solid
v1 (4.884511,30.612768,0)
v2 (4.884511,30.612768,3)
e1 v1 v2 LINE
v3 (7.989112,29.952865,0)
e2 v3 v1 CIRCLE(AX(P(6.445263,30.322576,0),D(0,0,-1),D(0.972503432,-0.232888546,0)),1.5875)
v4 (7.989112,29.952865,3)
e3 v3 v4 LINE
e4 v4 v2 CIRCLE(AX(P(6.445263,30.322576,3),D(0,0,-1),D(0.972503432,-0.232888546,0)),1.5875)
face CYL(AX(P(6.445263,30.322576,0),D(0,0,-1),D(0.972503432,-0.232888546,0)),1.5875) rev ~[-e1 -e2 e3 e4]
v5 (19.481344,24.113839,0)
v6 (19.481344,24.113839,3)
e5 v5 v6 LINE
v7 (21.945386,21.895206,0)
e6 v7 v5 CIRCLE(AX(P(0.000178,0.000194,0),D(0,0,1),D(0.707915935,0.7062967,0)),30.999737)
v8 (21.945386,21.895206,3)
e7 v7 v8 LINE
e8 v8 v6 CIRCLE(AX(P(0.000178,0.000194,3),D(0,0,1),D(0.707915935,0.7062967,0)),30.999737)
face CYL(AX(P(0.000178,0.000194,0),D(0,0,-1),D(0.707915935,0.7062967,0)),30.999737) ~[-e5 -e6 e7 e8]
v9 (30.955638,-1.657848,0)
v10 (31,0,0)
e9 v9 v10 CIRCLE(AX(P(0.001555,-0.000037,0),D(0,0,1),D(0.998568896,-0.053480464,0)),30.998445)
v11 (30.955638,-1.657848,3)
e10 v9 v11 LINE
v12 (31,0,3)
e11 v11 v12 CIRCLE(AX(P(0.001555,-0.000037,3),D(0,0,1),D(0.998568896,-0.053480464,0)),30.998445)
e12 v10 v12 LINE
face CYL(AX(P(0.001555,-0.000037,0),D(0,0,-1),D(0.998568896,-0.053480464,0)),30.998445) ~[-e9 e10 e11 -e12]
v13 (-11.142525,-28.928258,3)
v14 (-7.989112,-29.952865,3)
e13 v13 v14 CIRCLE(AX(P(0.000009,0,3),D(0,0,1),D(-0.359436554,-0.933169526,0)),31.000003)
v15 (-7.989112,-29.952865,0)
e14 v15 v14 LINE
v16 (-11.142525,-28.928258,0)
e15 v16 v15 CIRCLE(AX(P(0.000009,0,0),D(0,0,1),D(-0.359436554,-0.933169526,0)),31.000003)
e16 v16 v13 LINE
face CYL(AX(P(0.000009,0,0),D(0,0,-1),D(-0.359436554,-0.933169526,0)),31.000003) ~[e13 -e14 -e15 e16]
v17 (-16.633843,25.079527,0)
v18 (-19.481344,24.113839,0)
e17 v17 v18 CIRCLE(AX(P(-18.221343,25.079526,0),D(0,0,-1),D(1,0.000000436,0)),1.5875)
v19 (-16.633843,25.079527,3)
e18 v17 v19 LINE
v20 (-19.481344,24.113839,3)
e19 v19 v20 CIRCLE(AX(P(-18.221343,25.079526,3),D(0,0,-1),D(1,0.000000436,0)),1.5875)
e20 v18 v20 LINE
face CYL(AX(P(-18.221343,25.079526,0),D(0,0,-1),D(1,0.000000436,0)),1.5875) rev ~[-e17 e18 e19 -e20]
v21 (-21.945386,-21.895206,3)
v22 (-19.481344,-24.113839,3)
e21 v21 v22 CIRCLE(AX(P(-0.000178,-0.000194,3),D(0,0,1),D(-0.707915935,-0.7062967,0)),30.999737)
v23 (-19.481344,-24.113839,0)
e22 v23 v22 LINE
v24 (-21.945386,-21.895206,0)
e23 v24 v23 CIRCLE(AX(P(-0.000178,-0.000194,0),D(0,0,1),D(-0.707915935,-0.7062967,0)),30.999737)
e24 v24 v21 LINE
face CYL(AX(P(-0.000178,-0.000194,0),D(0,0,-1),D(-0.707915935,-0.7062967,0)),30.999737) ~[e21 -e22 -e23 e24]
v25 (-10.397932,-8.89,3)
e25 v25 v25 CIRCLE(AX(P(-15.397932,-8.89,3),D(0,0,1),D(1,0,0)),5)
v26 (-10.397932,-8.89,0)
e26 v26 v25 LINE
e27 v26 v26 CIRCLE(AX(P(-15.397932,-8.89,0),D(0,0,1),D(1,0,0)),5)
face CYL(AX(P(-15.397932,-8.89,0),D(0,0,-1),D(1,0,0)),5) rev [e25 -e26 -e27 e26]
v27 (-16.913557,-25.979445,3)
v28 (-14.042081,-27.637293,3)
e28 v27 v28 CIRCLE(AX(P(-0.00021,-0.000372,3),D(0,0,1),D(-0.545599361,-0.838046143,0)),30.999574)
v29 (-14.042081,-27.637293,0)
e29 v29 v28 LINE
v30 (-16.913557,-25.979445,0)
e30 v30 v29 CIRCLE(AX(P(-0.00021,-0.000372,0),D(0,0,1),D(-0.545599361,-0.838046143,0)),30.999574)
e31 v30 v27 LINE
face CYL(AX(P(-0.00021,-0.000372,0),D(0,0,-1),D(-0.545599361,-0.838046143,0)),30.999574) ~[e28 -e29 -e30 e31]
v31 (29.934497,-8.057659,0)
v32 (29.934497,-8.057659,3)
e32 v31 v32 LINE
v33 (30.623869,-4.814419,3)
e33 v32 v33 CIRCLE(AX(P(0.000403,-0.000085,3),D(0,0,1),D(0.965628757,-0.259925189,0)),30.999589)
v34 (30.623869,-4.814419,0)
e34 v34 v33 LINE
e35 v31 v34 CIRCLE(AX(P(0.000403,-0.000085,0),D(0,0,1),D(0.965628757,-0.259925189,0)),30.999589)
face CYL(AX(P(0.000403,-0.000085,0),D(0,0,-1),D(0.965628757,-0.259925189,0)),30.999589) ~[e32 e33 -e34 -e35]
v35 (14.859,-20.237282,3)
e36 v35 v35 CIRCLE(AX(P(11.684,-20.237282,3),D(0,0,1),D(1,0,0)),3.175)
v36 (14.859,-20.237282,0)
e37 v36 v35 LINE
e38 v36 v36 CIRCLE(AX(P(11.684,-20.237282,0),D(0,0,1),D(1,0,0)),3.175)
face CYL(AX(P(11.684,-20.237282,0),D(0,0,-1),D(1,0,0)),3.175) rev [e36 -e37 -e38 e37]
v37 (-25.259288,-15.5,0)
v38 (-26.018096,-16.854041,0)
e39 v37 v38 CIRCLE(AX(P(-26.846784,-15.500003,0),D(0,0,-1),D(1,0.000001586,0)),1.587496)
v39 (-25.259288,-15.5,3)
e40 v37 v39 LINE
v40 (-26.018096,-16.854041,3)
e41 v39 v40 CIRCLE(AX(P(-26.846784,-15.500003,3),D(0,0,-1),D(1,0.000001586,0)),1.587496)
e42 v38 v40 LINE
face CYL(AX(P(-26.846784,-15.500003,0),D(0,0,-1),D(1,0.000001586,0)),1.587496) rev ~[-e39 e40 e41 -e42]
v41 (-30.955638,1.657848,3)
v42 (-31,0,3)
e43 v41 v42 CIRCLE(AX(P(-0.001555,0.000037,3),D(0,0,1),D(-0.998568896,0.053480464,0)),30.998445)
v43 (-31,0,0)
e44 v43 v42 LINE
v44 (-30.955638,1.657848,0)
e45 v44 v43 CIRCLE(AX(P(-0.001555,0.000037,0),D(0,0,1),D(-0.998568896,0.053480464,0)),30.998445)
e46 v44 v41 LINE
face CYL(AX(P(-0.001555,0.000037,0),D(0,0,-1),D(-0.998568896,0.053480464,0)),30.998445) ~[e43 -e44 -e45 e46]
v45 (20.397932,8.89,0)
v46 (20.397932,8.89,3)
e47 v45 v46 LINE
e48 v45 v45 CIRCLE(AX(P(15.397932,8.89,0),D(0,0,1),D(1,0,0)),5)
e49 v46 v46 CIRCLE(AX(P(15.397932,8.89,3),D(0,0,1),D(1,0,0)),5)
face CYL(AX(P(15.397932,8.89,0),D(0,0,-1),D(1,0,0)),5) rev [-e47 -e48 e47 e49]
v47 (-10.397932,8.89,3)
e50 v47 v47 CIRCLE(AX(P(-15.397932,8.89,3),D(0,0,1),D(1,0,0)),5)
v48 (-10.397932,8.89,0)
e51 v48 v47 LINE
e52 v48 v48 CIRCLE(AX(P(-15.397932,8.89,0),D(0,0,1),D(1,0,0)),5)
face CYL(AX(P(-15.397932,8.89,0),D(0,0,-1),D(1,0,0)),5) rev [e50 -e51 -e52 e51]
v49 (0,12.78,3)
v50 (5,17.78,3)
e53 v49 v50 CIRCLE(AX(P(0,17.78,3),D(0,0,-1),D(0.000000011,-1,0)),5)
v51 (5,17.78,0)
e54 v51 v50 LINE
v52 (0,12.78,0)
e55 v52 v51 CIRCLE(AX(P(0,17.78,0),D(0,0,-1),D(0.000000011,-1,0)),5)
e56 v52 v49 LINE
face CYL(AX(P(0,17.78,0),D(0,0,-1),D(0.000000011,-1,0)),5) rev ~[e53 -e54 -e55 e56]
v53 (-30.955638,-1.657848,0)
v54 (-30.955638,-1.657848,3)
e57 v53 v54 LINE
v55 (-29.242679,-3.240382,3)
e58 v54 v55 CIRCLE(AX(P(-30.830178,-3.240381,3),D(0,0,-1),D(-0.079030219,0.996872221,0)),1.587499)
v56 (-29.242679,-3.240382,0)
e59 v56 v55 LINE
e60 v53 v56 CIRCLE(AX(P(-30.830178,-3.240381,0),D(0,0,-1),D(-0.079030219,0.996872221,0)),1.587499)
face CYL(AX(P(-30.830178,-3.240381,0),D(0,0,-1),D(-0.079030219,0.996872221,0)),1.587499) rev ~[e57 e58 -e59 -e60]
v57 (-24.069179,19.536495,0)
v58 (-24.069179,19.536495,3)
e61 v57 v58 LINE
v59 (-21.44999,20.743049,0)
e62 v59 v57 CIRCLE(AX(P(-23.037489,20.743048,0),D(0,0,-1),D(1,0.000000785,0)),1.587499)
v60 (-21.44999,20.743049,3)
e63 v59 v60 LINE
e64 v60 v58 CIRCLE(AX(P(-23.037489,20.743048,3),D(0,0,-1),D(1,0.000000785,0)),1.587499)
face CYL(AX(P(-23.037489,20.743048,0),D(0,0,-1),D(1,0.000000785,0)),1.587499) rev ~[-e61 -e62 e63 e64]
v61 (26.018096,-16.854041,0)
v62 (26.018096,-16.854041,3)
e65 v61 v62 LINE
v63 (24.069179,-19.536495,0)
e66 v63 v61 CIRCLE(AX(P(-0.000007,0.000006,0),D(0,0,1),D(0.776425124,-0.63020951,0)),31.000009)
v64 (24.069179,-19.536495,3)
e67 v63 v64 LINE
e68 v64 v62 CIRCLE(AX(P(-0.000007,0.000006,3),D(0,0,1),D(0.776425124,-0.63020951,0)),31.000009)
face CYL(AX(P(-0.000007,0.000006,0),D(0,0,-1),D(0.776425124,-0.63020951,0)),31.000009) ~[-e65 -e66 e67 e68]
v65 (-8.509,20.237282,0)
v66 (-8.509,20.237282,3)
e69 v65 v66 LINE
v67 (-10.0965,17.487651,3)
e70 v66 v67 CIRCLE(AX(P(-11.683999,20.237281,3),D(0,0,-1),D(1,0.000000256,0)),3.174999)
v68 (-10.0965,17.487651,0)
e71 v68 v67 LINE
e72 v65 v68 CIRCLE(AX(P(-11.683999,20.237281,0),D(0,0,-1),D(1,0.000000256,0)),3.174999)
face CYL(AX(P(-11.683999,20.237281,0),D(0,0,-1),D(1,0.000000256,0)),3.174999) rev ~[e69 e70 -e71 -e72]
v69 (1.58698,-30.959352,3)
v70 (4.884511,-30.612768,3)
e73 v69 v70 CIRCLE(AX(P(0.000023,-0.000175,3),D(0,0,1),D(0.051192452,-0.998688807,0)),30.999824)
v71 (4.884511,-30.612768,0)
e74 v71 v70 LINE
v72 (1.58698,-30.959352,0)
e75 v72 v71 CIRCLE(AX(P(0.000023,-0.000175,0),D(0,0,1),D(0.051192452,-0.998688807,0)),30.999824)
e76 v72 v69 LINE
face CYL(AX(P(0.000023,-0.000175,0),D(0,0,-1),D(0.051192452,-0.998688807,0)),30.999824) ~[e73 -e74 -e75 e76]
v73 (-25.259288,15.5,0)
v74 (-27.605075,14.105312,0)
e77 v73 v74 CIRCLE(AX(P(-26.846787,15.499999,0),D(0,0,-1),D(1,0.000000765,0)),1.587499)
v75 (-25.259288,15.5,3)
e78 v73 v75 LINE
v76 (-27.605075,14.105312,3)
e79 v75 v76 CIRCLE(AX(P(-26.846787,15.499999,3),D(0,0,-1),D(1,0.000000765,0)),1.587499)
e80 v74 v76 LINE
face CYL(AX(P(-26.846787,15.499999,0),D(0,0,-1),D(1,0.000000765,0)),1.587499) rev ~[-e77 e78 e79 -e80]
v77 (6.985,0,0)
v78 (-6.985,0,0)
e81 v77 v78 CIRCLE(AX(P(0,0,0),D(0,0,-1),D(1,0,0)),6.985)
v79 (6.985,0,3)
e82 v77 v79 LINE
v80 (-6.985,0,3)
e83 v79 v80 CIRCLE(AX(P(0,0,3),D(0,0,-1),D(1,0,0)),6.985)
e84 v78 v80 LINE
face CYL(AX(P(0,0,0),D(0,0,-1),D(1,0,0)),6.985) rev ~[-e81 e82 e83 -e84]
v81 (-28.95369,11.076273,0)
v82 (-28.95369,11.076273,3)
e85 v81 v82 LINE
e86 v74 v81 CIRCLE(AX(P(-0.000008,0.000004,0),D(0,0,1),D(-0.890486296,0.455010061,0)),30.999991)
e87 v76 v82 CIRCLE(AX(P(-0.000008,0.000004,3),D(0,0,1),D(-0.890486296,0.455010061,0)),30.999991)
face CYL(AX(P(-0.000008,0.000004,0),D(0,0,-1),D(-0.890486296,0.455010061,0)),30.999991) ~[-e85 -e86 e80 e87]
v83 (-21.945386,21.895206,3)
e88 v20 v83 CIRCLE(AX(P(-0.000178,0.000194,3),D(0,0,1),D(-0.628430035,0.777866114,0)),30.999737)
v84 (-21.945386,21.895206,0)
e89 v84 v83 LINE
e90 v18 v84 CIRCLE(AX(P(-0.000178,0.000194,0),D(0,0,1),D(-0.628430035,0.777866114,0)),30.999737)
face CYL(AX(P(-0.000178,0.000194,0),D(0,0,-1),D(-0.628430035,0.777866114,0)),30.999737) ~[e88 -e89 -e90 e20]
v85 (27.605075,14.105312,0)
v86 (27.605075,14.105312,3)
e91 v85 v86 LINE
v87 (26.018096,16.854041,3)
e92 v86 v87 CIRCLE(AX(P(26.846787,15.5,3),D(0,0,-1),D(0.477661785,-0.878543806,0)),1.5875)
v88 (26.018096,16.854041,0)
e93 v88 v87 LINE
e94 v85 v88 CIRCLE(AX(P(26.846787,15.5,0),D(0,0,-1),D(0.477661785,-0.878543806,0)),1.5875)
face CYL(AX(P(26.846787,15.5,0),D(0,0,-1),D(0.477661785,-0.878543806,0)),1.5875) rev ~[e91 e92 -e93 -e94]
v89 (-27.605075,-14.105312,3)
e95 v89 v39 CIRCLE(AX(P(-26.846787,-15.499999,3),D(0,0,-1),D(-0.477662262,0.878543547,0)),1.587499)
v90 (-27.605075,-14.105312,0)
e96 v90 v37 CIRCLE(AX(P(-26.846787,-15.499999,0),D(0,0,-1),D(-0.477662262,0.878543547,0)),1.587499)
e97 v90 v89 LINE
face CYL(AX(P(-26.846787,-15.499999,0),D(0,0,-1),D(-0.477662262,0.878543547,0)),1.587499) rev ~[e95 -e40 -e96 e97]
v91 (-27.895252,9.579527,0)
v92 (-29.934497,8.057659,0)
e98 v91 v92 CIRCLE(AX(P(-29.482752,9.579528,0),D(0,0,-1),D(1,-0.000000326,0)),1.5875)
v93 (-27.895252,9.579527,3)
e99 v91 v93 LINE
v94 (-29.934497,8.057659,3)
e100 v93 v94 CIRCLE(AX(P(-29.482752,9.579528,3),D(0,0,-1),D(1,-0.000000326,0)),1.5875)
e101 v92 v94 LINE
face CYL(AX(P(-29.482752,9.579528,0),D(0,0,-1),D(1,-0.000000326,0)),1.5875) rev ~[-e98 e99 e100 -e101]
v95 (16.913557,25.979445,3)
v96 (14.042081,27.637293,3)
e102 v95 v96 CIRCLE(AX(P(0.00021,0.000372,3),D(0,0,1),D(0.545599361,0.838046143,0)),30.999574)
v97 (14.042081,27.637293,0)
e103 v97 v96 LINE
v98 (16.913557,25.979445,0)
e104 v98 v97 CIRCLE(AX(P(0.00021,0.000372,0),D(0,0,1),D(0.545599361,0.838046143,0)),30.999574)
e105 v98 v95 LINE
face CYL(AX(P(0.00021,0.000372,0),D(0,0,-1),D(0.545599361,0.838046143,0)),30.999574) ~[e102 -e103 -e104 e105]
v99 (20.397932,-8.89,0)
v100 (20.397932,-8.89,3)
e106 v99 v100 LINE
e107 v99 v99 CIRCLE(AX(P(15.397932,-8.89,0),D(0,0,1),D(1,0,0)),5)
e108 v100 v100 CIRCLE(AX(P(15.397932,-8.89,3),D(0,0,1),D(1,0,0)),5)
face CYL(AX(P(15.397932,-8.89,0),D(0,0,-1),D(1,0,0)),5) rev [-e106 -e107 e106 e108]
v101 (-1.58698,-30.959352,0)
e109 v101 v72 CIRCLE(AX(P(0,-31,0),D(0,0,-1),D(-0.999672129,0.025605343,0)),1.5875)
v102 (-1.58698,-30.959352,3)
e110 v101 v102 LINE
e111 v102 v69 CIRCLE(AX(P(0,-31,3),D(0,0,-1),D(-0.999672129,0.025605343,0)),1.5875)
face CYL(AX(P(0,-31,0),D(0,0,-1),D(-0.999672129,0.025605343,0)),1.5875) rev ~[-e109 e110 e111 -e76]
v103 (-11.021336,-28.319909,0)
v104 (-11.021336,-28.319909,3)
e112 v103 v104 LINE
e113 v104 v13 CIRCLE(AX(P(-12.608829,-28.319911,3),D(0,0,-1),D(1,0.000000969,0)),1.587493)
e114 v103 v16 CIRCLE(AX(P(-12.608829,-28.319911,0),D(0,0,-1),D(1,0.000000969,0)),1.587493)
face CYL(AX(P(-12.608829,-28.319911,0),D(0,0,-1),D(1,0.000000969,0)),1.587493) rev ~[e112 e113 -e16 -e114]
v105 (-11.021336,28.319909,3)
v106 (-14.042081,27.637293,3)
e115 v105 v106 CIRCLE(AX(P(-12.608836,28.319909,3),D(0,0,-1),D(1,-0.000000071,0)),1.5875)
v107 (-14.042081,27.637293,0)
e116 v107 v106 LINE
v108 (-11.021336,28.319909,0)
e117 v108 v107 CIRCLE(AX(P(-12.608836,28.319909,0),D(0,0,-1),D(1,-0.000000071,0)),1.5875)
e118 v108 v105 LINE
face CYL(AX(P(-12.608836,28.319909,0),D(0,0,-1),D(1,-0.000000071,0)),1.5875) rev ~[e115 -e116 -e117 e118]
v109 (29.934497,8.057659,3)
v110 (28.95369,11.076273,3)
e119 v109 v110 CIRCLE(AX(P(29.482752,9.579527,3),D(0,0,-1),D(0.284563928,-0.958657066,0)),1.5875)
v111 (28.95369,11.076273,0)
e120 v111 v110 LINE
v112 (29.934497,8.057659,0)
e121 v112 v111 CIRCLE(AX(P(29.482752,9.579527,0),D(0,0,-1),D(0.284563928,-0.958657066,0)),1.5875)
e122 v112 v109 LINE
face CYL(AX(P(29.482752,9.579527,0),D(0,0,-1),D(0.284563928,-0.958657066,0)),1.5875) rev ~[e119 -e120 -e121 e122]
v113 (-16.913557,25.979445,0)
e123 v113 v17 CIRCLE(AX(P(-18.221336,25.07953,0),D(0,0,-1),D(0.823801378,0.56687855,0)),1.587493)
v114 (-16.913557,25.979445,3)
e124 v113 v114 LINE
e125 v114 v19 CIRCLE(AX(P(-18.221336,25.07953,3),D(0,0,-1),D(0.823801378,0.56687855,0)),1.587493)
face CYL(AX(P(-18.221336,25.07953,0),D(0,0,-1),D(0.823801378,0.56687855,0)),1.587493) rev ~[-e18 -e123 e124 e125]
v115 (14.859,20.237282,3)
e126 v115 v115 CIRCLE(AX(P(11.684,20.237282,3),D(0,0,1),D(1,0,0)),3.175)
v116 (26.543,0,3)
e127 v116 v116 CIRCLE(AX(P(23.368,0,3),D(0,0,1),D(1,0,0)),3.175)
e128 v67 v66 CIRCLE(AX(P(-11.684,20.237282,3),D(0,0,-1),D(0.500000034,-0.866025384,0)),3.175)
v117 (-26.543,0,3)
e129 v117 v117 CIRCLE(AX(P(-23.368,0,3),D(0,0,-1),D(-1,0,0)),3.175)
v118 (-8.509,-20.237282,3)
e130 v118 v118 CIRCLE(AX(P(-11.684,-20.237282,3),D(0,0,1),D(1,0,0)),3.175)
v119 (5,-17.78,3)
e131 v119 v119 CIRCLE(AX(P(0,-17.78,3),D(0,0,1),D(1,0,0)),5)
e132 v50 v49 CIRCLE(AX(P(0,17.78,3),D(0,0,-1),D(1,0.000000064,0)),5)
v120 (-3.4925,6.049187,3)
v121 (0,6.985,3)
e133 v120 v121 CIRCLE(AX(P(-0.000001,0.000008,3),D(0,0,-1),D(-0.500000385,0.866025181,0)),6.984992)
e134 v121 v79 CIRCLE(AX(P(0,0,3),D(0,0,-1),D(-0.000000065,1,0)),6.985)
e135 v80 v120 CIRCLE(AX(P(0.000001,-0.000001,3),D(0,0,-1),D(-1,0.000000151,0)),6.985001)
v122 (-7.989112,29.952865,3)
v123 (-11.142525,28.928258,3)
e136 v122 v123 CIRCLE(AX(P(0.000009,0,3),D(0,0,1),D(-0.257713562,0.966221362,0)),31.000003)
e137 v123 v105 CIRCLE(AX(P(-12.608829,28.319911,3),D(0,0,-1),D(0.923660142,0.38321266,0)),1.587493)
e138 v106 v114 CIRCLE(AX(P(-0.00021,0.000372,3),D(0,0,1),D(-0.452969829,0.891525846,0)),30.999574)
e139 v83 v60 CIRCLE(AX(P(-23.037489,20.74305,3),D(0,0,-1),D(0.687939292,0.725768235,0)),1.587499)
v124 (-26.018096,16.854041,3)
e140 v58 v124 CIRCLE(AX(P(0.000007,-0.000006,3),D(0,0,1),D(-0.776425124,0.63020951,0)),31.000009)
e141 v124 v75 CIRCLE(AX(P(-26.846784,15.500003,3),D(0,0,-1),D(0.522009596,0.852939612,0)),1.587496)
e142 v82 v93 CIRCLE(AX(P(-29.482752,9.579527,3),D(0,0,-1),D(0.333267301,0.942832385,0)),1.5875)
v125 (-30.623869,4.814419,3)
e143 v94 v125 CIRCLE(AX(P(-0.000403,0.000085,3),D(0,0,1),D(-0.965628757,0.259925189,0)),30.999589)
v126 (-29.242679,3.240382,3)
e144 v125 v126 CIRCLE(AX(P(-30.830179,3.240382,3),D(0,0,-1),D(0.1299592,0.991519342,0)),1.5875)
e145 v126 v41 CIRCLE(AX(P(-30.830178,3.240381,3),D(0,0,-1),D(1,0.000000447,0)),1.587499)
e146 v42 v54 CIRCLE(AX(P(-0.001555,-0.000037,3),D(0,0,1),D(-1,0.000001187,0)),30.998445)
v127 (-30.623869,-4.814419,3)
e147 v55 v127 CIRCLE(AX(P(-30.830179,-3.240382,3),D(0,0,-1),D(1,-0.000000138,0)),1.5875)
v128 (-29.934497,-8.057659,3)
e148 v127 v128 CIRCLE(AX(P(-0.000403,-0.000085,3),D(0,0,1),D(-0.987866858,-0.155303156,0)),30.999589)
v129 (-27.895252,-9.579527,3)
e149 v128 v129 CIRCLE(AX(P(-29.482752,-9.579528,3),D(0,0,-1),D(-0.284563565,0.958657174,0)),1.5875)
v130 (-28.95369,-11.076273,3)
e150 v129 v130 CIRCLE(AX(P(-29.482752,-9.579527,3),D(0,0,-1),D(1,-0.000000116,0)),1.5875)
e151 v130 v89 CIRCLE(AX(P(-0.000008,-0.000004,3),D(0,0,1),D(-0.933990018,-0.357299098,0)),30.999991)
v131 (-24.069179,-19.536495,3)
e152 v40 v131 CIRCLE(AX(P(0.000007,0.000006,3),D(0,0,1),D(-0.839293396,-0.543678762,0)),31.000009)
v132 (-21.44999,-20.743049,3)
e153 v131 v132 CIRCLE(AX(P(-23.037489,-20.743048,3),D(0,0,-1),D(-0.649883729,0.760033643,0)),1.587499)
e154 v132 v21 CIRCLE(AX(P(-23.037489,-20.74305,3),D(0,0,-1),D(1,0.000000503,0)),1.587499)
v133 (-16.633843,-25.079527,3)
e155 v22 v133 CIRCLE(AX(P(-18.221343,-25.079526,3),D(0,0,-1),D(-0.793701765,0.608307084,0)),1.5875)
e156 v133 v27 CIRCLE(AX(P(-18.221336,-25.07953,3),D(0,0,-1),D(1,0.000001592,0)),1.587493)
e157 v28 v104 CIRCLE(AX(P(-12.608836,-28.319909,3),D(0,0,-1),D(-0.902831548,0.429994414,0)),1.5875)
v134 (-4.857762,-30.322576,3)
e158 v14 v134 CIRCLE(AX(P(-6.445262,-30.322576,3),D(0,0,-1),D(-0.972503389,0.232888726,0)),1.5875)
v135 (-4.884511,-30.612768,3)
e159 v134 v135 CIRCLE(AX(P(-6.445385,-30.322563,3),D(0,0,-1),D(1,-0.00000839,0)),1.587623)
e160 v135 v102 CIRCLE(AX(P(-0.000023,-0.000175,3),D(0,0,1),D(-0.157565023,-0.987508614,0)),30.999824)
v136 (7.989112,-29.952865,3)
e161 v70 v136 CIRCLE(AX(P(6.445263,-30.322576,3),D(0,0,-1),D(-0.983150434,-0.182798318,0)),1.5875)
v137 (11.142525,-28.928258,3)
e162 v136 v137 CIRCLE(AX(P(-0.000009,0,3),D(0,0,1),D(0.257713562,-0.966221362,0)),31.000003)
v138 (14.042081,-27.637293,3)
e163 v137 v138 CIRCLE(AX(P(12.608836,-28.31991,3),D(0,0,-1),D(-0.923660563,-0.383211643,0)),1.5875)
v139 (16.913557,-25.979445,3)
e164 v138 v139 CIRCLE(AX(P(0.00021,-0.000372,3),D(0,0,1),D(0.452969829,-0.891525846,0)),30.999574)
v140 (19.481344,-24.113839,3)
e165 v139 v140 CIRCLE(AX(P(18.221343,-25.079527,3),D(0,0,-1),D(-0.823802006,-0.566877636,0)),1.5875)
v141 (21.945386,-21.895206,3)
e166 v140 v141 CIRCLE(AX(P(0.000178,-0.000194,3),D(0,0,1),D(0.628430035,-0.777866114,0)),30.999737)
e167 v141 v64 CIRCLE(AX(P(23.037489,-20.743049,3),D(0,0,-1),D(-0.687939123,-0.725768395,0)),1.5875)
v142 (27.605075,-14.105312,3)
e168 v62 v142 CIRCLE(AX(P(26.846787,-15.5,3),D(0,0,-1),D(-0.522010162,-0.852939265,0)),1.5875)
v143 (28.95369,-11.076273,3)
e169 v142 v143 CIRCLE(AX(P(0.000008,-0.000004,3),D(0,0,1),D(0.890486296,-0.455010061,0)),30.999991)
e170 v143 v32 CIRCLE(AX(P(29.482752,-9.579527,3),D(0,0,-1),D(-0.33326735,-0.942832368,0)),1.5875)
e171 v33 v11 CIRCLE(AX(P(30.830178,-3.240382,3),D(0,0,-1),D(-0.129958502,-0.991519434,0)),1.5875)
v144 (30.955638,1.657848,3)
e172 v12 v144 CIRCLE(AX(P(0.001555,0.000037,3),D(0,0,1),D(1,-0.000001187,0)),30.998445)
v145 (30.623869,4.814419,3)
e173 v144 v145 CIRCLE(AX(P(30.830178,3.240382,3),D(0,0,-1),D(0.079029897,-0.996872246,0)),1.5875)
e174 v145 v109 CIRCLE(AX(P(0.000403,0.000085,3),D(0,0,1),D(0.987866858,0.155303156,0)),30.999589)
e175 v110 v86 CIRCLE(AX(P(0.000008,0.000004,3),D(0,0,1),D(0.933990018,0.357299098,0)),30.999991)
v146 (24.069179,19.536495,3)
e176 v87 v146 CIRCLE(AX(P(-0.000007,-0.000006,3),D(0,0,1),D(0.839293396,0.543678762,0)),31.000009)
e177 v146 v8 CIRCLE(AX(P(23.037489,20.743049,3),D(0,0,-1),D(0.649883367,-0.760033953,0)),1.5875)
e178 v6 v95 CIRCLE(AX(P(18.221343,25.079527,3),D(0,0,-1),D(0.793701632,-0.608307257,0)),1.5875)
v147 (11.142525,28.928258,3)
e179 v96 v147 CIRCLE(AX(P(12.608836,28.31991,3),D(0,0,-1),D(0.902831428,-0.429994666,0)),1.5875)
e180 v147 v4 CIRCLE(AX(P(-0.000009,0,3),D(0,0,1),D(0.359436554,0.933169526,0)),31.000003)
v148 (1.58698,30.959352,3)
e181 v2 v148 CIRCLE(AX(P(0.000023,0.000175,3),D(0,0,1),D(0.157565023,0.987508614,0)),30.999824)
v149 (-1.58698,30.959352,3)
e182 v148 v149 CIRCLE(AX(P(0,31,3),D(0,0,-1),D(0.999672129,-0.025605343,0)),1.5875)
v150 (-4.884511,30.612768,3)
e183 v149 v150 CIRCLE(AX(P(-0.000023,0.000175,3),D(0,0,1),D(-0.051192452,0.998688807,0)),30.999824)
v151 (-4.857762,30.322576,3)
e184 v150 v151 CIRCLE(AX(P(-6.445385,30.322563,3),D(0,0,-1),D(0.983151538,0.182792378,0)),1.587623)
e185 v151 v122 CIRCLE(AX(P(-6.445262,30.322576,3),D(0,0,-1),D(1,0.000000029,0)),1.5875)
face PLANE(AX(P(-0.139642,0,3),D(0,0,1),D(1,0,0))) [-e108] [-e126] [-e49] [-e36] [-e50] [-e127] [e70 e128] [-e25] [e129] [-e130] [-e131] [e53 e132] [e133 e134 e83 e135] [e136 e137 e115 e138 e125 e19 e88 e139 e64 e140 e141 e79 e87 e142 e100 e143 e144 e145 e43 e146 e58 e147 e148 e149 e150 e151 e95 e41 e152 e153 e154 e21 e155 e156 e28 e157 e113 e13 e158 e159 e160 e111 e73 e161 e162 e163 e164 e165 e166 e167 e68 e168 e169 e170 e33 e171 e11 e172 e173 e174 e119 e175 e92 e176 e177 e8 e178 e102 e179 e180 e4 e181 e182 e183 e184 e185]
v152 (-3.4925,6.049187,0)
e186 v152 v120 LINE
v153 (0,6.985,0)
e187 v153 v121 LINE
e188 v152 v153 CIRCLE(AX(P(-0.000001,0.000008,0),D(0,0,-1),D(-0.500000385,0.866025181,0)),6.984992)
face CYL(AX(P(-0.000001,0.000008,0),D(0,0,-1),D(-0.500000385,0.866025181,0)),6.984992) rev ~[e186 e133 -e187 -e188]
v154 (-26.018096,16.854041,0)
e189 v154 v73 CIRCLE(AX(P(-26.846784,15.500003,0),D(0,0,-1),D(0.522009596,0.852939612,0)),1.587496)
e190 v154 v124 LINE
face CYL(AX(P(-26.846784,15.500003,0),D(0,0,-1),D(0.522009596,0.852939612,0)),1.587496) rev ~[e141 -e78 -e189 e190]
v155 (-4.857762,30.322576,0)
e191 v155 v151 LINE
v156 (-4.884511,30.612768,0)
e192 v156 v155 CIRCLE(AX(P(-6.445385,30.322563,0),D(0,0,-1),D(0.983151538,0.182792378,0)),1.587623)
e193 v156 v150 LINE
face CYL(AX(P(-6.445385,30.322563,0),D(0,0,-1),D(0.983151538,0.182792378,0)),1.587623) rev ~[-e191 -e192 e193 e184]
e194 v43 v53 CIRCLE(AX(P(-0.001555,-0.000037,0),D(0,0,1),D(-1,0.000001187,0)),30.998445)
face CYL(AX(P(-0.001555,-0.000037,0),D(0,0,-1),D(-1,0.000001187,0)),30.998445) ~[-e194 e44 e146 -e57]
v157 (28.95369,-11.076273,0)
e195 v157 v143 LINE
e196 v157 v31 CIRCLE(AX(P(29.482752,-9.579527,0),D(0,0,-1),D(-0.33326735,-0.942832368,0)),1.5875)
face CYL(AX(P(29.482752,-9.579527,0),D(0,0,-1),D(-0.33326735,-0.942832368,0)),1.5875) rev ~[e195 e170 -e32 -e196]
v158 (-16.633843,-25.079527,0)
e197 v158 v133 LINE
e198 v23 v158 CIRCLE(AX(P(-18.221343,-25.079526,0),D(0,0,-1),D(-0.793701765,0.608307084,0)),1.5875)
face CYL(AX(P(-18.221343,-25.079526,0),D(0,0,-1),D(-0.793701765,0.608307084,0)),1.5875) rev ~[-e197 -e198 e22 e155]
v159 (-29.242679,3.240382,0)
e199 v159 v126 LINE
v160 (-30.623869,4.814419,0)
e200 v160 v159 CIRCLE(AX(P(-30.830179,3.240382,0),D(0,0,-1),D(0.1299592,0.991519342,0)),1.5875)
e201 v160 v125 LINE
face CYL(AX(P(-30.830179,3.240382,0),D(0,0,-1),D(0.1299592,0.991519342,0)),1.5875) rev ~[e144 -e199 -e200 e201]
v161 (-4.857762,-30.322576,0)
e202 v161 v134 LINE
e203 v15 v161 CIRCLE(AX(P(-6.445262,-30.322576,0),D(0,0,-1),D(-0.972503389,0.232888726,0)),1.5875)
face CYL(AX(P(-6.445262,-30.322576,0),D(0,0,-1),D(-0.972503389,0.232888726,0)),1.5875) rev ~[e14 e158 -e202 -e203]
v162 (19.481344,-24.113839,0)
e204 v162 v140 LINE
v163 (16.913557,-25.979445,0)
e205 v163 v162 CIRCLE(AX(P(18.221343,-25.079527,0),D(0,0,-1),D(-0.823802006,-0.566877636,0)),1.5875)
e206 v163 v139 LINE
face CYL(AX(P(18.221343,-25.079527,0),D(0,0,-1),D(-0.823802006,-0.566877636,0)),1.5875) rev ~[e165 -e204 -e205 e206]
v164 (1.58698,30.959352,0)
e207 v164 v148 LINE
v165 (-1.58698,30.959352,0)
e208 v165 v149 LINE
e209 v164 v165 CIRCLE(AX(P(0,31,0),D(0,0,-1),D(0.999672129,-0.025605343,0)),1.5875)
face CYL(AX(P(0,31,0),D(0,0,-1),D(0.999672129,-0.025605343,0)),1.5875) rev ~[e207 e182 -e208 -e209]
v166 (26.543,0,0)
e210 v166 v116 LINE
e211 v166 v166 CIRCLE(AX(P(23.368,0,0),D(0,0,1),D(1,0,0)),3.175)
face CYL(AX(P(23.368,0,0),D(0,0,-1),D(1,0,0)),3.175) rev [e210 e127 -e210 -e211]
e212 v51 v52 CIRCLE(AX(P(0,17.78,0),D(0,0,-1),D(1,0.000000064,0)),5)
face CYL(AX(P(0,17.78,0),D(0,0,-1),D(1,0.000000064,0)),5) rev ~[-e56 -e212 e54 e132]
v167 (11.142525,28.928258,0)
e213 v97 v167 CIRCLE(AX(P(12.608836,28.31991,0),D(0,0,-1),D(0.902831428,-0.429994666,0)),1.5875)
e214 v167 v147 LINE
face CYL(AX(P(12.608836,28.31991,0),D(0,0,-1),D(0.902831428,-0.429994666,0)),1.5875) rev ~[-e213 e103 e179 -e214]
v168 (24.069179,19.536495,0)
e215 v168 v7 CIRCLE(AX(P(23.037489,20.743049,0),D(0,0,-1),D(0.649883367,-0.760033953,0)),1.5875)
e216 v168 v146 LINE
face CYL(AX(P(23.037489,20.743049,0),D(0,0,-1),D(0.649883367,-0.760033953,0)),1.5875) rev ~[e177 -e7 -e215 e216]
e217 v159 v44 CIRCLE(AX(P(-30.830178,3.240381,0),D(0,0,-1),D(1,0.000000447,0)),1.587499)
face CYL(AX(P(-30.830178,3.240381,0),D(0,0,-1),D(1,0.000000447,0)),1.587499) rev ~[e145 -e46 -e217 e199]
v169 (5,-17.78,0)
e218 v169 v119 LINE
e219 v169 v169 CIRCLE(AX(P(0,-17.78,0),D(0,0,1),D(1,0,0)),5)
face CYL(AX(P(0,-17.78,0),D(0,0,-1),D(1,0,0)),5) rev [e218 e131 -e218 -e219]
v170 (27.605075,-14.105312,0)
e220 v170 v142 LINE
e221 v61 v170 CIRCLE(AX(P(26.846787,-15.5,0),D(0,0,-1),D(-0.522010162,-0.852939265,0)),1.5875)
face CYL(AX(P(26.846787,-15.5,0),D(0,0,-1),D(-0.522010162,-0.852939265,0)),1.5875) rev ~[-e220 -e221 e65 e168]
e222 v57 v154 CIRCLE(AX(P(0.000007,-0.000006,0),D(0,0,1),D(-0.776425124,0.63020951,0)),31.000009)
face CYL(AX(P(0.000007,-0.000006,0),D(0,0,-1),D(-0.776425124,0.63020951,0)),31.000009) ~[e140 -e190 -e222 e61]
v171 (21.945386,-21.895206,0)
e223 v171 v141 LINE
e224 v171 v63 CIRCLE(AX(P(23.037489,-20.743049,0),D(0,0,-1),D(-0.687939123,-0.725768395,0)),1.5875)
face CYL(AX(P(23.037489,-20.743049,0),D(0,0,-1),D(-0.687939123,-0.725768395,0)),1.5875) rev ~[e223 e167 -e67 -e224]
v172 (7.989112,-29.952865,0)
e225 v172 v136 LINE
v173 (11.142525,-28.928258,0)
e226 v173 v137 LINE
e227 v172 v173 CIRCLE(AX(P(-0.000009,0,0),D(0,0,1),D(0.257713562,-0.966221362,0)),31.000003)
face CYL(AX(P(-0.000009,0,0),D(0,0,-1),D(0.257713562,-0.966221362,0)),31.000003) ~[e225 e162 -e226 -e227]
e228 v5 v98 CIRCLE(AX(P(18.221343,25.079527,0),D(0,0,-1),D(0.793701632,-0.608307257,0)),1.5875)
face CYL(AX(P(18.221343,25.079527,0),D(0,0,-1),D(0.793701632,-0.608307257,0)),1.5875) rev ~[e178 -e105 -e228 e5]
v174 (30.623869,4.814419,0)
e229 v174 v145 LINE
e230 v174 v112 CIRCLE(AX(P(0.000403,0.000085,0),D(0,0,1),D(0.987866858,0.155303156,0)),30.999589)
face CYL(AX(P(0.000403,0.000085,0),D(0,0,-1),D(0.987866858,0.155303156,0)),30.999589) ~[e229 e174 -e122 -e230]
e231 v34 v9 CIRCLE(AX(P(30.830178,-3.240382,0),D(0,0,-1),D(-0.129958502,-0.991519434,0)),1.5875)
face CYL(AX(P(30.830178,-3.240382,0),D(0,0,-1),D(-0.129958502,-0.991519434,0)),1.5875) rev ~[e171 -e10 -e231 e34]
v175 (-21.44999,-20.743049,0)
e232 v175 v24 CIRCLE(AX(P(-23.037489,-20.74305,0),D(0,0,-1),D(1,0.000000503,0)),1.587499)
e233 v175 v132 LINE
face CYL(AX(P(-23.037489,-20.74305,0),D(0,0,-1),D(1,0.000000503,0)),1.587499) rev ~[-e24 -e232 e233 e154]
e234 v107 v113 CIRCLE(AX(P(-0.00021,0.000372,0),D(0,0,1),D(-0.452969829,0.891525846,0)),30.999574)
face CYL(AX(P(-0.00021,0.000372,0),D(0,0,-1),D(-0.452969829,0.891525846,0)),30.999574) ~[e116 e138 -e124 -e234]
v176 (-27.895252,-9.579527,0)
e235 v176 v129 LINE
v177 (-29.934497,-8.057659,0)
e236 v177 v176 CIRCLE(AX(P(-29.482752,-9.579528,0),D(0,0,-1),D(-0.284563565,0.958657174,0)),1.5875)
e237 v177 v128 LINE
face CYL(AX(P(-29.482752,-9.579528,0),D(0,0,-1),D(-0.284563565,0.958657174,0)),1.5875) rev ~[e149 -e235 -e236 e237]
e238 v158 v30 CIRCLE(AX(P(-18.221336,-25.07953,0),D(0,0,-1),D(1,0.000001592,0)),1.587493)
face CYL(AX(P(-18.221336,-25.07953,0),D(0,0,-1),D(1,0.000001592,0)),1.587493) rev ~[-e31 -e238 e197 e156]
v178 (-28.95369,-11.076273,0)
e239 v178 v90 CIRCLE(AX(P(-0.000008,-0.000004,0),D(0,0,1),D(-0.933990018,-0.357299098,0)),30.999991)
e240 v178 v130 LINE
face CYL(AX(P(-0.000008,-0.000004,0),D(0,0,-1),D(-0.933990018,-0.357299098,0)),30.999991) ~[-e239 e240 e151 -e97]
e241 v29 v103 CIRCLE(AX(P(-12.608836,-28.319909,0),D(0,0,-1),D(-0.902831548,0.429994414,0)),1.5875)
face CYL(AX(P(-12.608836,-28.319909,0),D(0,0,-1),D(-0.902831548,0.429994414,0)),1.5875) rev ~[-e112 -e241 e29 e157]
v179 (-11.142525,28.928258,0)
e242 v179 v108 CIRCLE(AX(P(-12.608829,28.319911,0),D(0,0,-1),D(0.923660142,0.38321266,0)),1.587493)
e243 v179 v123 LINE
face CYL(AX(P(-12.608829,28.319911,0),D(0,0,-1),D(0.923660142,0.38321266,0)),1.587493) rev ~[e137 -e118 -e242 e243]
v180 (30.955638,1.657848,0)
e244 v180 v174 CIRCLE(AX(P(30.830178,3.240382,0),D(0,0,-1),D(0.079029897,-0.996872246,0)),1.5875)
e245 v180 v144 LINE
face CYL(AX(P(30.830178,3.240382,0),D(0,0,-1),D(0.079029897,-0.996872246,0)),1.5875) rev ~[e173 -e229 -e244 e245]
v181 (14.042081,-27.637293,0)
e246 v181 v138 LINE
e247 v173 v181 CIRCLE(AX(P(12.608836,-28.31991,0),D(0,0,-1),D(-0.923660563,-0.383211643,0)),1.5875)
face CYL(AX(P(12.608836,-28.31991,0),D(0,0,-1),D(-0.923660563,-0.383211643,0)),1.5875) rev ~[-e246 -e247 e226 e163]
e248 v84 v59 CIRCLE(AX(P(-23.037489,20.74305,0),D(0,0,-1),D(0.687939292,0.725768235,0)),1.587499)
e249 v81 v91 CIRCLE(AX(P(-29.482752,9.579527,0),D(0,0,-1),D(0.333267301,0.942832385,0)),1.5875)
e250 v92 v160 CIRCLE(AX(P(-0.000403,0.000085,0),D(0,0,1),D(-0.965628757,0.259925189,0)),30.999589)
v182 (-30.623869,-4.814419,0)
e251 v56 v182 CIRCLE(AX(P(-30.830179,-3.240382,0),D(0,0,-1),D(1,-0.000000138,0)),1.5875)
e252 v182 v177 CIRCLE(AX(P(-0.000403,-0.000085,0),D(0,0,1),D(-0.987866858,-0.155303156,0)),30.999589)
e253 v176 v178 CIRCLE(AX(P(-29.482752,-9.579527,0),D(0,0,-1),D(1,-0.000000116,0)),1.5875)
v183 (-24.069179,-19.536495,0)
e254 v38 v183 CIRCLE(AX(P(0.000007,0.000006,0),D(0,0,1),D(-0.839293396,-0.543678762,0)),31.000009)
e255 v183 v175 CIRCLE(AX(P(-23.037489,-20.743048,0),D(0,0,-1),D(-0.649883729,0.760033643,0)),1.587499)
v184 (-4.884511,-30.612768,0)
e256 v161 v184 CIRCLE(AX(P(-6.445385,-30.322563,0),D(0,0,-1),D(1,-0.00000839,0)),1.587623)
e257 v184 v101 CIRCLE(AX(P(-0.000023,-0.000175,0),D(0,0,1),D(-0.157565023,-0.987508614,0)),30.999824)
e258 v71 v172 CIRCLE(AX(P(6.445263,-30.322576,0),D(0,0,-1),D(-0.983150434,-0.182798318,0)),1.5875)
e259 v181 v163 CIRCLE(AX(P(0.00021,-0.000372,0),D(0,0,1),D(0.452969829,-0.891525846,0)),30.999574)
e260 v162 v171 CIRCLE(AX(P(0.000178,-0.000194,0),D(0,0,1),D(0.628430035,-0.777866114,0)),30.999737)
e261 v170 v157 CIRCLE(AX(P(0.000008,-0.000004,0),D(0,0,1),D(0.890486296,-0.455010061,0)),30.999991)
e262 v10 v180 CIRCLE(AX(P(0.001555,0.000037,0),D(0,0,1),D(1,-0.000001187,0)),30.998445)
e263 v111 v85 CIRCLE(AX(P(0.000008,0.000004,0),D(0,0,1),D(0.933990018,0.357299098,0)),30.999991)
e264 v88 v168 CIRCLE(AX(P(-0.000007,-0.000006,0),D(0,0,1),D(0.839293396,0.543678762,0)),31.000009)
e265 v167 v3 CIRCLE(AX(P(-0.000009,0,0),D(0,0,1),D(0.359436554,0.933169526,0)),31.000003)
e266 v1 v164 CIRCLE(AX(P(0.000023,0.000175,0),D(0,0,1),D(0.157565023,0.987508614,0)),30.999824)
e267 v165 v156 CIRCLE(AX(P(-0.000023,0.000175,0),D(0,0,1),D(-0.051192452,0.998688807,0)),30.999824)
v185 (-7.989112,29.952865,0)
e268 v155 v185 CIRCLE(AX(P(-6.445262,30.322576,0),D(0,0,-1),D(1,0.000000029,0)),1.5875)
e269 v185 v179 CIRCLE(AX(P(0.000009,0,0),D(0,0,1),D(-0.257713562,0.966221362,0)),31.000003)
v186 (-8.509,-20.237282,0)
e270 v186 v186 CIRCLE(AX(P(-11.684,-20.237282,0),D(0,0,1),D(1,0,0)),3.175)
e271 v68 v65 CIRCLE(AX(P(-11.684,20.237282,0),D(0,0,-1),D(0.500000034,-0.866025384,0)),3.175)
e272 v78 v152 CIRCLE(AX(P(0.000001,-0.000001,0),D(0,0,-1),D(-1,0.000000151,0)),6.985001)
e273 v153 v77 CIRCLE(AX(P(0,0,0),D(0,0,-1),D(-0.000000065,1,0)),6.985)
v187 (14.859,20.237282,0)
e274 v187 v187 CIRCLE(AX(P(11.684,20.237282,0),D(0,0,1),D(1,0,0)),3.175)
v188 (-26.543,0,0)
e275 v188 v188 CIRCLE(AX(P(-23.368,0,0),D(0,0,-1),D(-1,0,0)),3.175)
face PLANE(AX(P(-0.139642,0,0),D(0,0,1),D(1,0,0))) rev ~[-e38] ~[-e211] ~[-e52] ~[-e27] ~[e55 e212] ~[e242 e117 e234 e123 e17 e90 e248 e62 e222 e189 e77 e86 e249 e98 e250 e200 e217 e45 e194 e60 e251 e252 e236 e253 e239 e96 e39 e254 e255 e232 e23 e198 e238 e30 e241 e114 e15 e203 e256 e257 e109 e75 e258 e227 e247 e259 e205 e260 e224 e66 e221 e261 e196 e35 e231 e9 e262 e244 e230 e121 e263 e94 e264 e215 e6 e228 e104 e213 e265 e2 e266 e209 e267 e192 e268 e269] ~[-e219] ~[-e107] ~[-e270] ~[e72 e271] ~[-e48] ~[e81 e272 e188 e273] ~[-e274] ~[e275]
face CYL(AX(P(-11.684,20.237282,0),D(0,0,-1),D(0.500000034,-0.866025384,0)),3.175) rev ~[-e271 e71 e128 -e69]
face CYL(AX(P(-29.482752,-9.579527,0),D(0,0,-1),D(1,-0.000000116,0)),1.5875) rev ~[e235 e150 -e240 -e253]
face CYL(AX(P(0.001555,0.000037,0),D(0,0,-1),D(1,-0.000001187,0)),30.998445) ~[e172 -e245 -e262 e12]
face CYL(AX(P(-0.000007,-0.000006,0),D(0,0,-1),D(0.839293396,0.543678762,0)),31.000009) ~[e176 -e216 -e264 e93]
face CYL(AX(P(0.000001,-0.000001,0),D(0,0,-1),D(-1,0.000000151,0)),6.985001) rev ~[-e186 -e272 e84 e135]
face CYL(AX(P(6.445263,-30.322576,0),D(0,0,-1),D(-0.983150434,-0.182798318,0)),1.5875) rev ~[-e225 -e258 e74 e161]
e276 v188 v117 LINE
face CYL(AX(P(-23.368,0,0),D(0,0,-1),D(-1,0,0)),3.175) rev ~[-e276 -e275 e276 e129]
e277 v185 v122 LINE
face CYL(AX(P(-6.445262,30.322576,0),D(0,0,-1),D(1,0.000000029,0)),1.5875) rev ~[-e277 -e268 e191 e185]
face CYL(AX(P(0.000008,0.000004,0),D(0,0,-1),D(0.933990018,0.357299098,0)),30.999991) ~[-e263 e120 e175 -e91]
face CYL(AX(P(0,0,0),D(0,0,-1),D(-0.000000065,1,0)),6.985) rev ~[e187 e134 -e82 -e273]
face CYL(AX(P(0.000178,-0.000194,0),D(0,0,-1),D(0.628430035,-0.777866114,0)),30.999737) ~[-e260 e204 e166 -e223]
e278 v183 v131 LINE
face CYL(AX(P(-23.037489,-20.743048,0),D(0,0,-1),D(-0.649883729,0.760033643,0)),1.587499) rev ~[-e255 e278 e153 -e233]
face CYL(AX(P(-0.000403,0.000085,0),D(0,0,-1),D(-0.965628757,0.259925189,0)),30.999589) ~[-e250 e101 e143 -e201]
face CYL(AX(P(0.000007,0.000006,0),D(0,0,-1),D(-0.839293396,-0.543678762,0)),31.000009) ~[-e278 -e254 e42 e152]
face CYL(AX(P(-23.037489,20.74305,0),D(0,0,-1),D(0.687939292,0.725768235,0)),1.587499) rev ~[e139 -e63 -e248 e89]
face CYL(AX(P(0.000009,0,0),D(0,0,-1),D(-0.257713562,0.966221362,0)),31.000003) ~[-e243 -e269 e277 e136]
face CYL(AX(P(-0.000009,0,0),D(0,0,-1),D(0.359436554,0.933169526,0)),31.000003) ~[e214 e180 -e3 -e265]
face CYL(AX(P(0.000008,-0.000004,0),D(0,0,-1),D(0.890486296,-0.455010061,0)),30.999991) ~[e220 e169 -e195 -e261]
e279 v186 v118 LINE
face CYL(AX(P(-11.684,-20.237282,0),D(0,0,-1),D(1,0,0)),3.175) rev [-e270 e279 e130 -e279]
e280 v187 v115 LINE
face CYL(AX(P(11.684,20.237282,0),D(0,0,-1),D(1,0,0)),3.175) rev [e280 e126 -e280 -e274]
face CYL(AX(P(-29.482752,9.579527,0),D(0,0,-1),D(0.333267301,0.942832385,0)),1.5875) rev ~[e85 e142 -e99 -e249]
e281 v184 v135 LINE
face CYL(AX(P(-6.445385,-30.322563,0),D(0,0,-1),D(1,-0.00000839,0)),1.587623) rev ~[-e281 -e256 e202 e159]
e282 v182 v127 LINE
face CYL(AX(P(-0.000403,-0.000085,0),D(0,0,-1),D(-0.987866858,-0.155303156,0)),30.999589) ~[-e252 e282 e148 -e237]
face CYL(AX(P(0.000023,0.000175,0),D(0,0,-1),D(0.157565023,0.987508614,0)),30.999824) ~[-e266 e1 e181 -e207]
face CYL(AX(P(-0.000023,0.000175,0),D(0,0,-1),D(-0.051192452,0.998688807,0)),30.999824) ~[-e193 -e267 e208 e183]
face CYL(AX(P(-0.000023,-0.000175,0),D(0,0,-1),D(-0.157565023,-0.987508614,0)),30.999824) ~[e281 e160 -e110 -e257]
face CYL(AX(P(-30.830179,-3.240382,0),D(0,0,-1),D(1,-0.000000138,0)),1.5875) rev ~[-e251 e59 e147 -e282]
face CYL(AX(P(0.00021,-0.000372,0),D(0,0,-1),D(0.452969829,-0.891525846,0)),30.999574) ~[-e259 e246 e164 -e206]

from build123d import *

# Parameters (mm, degrees)
F0_R     = 3.175
F0_R_2   = 5
F1_DEPTH = 3


with BuildPart() as f1:
    # F0 (on Top) → F1 (new body)
    with BuildSketch(Plane.XY):
        with BuildLine():
            ThreePointArc((30.955638, -1.657848), (30.988908, -0.829221), (31, 0))
            ThreePointArc((31, 0), (30.988908, 0.829221), (30.955638, 1.657848))
            ThreePointArc((30.955638, 1.657848), (29.251375, 3.074443), (30.623869, 4.814419))
            ThreePointArc((30.623869, 4.814419), (30.322576, 6.445262), (29.934497, 8.057659))
            ThreePointArc((29.934497, 8.057659), (27.97295, 9.088962), (28.95369, 11.076273))
            ThreePointArc((28.95369, 11.076273), (28.319909, 12.608836), (27.605075, 14.105312))
            ThreePointArc((27.605075, 14.105312), (25.471972, 14.70625), (26.018096, 16.854041))
            ThreePointArc((26.018096, 16.854041), (25.079527, 18.221343), (24.069179, 19.536495))
            ThreePointArc((24.069179, 19.536495), (21.857747, 19.680804), (21.945386, 21.895206))
            ThreePointArc((21.945386, 21.895206), (20.743049, 23.03749), (19.481344, 24.113839))
            ThreePointArc((19.481344, 24.113839), (17.288234, 23.795212), (16.913557, 25.979445))
            ThreePointArc((16.913557, 25.979445), (15.5, 26.846788), (14.042081, 27.637293))
            ThreePointArc((14.042081, 27.637293), (11.963142, 26.869656), (11.142525, 28.928258))
            ThreePointArc((11.142525, 28.928258), (9.579527, 29.482752), (7.989112, 29.952865))
            ThreePointArc((7.989112, 29.952865), (6.115203, 28.769766), (4.884511, 30.612768))
            ThreePointArc((4.884511, 30.612768), (3.240382, 30.830179), (1.58698, 30.959352))
            ThreePointArc((1.58698, 30.959352), (0, 29.4125), (-1.58698, 30.959352))
            ThreePointArc((-1.58698, 30.959352), (-3.240382, 30.830179), (-4.884511, 30.612768))
            ThreePointArc((-4.884511, 30.612768), (-4.864464, 30.468287), (-4.857762, 30.322576))
            ThreePointArc((-4.857762, 30.322576), (-6.259123, 28.746026), (-7.989112, 29.952865))
            ThreePointArc((-7.989112, 29.952865), (-9.579527, 29.482752), (-11.142525, 28.928258))
            ThreePointArc((-11.142525, 28.928258), (-11.051928, 28.630061), (-11.021336, 28.319909))
            ThreePointArc((-11.021336, 28.319909), (-12.258922, 26.771453), (-14.042081, 27.637293))
            ThreePointArc((-14.042081, 27.637293), (-15.5, 26.846788), (-16.913557, 25.979445))
            ThreePointArc((-16.913557, 25.979445), (-16.705383, 25.55072), (-16.633843, 25.079527))
            ThreePointArc((-16.633843, 25.079527), (-17.711488, 23.576129), (-19.481344, 24.113839))
            ThreePointArc((-19.481344, 24.113839), (-20.743049, 23.03749), (-21.945386, 21.895206))
            ThreePointArc((-21.945386, 21.895206), (-21.579088, 21.370122), (-21.44999, 20.743049))
            ThreePointArc((-21.44999, 20.743049), (-22.37328, 19.301181), (-24.069179, 19.536495))
            ThreePointArc((-24.069179, 19.536495), (-25.079527, 18.221343), (-26.018096, 16.854041))
            ThreePointArc((-26.018096, 16.854041), (-25.461922, 16.276083), (-25.259288, 15.5))
            ThreePointArc((-25.259288, 15.5), (-26.0355, 14.13546), (-27.605075, 14.105312))
            ThreePointArc((-27.605075, 14.105312), (-28.319909, 12.608836), (-28.95369, 11.076273))
            ThreePointArc((-28.95369, 11.076273), (-28.186596, 10.496116), (-27.895252, 9.579527))
            ThreePointArc((-27.895252, 9.579527), (-28.533276, 8.307265), (-29.934497, 8.057659))
            ThreePointArc((-29.934497, 8.057659), (-30.322576, 6.445262), (-30.623869, 4.814419))
            ThreePointArc((-30.623869, 4.814419), (-29.636933, 4.287435), (-29.242679, 3.240382))
            ThreePointArc((-29.242679, 3.240382), (-29.752916, 2.074337), (-30.955638, 1.657848))
            ThreePointArc((-30.955638, 1.657848), (-30.988908, 0.829221), (-31, 0))
            ThreePointArc((-31, 0), (-30.988908, -0.829221), (-30.955638, -1.657848))
            ThreePointArc((-30.955638, -1.657848), (-29.752916, -2.074337), (-29.242679, -3.240382))
            ThreePointArc((-29.242679, -3.240382), (-29.636933, -4.287435), (-30.623869, -4.814419))
            ThreePointArc((-30.623869, -4.814419), (-30.322576, -6.445262), (-29.934497, -8.057659))
            ThreePointArc((-29.934497, -8.057659), (-28.533276, -8.307265), (-27.895252, -9.579527))
            ThreePointArc((-27.895252, -9.579527), (-28.186596, -10.496116), (-28.95369, -11.076273))
            ThreePointArc((-28.95369, -11.076273), (-28.319909, -12.608836), (-27.605075, -14.105312))
            ThreePointArc((-27.605075, -14.105312), (-26.0355, -14.13546), (-25.259288, -15.5))
            ThreePointArc((-25.259288, -15.5), (-25.461922, -16.276083), (-26.018096, -16.854041))
            ThreePointArc((-26.018096, -16.854041), (-25.079527, -18.221343), (-24.069179, -19.536495))
            ThreePointArc((-24.069179, -19.536495), (-22.37328, -19.301181), (-21.44999, -20.743049))
            ThreePointArc((-21.44999, -20.743049), (-21.579088, -21.370122), (-21.945386, -21.895206))
            ThreePointArc((-21.945386, -21.895206), (-20.743049, -23.03749), (-19.481344, -24.113839))
            ThreePointArc((-19.481344, -24.113839), (-17.711488, -23.576129), (-16.633843, -25.079527))
            ThreePointArc((-16.633843, -25.079527), (-16.705383, -25.55072), (-16.913557, -25.979445))
            ThreePointArc((-16.913557, -25.979445), (-15.5, -26.846788), (-14.042081, -27.637293))
            ThreePointArc((-14.042081, -27.637293), (-12.258922, -26.771453), (-11.021336, -28.319909))
            ThreePointArc((-11.021336, -28.319909), (-11.051928, -28.630061), (-11.142525, -28.928258))
            ThreePointArc((-11.142525, -28.928258), (-9.579527, -29.482752), (-7.989112, -29.952865))
            ThreePointArc((-7.989112, -29.952865), (-6.259123, -28.746026), (-4.857762, -30.322576))
            ThreePointArc((-4.857762, -30.322576), (-4.864464, -30.468287), (-4.884511, -30.612768))
            ThreePointArc((-4.884511, -30.612768), (-3.240382, -30.830179), (-1.58698, -30.959352))
            ThreePointArc((-1.58698, -30.959352), (0, -29.4125), (1.58698, -30.959352))
            ThreePointArc((1.58698, -30.959352), (3.240382, -30.830179), (4.884511, -30.612768))
            ThreePointArc((4.884511, -30.612768), (6.115203, -28.769766), (7.989112, -29.952865))
            ThreePointArc((7.989112, -29.952865), (9.579527, -29.482752), (11.142525, -28.928258))
            ThreePointArc((11.142525, -28.928258), (11.963142, -26.869656), (14.042081, -27.637293))
            ThreePointArc((14.042081, -27.637293), (15.5, -26.846788), (16.913557, -25.979445))
            ThreePointArc((16.913557, -25.979445), (17.288234, -23.795212), (19.481344, -24.113839))
            ThreePointArc((19.481344, -24.113839), (20.743049, -23.03749), (21.945386, -21.895206))
            ThreePointArc((21.945386, -21.895206), (21.857747, -19.680804), (24.069179, -19.536495))
            ThreePointArc((24.069179, -19.536495), (25.079527, -18.221343), (26.018096, -16.854041))
            ThreePointArc((26.018096, -16.854041), (25.471972, -14.70625), (27.605075, -14.105312))
            ThreePointArc((27.605075, -14.105312), (28.319909, -12.608836), (28.95369, -11.076273))
            ThreePointArc((28.95369, -11.076273), (27.97295, -9.088962), (29.934497, -8.057659))
            ThreePointArc((29.934497, -8.057659), (30.322576, -6.445262), (30.623869, -4.814419))
            ThreePointArc((30.623869, -4.814419), (29.251375, -3.074443), (30.955638, -1.657848))
        make_face()
        with Locations((-11.684, -20.237282)):
            Circle(F0_R, mode=Mode.SUBTRACT)
        with Locations((-15.397932, -8.89)):
            Circle(F0_R_2, mode=Mode.SUBTRACT)
        with Locations((0, -17.78)):
            Circle(F0_R_2, mode=Mode.SUBTRACT)
        with Locations((11.684, -20.237282)):
            Circle(F0_R, mode=Mode.SUBTRACT)
        with Locations((15.397932, -8.89)):
            Circle(F0_R_2, mode=Mode.SUBTRACT)
        with BuildLine():
            ThreePointArc((-20.193, 0), (-23.368, -3.175), (-26.543, 0))
            ThreePointArc((-26.543, 0), (-23.368, 3.175), (-20.193, 0))
        make_face(mode=Mode.SUBTRACT)
        with Locations((-15.397932, 8.89)):
            Circle(F0_R_2, mode=Mode.SUBTRACT)
        with BuildLine():
            ThreePointArc((-8.509, 20.237282), (-8.934369, 18.649782), (-10.0965, 17.487651))
            ThreePointArc((-10.0965, 17.487651), (-14.433631, 21.824782), (-8.509, 20.237282))
        make_face(mode=Mode.SUBTRACT)
        with BuildLine():
            ThreePointArc((6.985, 0), (0, -6.985), (-6.985, 0))
            ThreePointArc((-6.985, 0), (-6.049187, 3.4925), (-3.4925, 6.049187))
            ThreePointArc((-3.4925, 6.049187), (-1.807851, 6.746992), (0, 6.985))
            ThreePointArc((0, 6.985), (4.939141, 4.939141), (6.985, 0))
        make_face(mode=Mode.SUBTRACT)
        with Locations((15.397932, 8.89)):
            Circle(F0_R_2, mode=Mode.SUBTRACT)
        with Locations((23.368, 0)):
            Circle(F0_R, mode=Mode.SUBTRACT)
        with BuildLine():
            ThreePointArc((5, 17.78), (3.535534, 14.244466), (0, 12.78))
            ThreePointArc((0, 12.78), (-3.535534, 21.315534), (5, 17.78))
        make_face(mode=Mode.SUBTRACT)
        with Locations((11.684, 20.237282)):
            Circle(F0_R, mode=Mode.SUBTRACT)
    extrude(amount=F1_DEPTH)


solid = f1.part
